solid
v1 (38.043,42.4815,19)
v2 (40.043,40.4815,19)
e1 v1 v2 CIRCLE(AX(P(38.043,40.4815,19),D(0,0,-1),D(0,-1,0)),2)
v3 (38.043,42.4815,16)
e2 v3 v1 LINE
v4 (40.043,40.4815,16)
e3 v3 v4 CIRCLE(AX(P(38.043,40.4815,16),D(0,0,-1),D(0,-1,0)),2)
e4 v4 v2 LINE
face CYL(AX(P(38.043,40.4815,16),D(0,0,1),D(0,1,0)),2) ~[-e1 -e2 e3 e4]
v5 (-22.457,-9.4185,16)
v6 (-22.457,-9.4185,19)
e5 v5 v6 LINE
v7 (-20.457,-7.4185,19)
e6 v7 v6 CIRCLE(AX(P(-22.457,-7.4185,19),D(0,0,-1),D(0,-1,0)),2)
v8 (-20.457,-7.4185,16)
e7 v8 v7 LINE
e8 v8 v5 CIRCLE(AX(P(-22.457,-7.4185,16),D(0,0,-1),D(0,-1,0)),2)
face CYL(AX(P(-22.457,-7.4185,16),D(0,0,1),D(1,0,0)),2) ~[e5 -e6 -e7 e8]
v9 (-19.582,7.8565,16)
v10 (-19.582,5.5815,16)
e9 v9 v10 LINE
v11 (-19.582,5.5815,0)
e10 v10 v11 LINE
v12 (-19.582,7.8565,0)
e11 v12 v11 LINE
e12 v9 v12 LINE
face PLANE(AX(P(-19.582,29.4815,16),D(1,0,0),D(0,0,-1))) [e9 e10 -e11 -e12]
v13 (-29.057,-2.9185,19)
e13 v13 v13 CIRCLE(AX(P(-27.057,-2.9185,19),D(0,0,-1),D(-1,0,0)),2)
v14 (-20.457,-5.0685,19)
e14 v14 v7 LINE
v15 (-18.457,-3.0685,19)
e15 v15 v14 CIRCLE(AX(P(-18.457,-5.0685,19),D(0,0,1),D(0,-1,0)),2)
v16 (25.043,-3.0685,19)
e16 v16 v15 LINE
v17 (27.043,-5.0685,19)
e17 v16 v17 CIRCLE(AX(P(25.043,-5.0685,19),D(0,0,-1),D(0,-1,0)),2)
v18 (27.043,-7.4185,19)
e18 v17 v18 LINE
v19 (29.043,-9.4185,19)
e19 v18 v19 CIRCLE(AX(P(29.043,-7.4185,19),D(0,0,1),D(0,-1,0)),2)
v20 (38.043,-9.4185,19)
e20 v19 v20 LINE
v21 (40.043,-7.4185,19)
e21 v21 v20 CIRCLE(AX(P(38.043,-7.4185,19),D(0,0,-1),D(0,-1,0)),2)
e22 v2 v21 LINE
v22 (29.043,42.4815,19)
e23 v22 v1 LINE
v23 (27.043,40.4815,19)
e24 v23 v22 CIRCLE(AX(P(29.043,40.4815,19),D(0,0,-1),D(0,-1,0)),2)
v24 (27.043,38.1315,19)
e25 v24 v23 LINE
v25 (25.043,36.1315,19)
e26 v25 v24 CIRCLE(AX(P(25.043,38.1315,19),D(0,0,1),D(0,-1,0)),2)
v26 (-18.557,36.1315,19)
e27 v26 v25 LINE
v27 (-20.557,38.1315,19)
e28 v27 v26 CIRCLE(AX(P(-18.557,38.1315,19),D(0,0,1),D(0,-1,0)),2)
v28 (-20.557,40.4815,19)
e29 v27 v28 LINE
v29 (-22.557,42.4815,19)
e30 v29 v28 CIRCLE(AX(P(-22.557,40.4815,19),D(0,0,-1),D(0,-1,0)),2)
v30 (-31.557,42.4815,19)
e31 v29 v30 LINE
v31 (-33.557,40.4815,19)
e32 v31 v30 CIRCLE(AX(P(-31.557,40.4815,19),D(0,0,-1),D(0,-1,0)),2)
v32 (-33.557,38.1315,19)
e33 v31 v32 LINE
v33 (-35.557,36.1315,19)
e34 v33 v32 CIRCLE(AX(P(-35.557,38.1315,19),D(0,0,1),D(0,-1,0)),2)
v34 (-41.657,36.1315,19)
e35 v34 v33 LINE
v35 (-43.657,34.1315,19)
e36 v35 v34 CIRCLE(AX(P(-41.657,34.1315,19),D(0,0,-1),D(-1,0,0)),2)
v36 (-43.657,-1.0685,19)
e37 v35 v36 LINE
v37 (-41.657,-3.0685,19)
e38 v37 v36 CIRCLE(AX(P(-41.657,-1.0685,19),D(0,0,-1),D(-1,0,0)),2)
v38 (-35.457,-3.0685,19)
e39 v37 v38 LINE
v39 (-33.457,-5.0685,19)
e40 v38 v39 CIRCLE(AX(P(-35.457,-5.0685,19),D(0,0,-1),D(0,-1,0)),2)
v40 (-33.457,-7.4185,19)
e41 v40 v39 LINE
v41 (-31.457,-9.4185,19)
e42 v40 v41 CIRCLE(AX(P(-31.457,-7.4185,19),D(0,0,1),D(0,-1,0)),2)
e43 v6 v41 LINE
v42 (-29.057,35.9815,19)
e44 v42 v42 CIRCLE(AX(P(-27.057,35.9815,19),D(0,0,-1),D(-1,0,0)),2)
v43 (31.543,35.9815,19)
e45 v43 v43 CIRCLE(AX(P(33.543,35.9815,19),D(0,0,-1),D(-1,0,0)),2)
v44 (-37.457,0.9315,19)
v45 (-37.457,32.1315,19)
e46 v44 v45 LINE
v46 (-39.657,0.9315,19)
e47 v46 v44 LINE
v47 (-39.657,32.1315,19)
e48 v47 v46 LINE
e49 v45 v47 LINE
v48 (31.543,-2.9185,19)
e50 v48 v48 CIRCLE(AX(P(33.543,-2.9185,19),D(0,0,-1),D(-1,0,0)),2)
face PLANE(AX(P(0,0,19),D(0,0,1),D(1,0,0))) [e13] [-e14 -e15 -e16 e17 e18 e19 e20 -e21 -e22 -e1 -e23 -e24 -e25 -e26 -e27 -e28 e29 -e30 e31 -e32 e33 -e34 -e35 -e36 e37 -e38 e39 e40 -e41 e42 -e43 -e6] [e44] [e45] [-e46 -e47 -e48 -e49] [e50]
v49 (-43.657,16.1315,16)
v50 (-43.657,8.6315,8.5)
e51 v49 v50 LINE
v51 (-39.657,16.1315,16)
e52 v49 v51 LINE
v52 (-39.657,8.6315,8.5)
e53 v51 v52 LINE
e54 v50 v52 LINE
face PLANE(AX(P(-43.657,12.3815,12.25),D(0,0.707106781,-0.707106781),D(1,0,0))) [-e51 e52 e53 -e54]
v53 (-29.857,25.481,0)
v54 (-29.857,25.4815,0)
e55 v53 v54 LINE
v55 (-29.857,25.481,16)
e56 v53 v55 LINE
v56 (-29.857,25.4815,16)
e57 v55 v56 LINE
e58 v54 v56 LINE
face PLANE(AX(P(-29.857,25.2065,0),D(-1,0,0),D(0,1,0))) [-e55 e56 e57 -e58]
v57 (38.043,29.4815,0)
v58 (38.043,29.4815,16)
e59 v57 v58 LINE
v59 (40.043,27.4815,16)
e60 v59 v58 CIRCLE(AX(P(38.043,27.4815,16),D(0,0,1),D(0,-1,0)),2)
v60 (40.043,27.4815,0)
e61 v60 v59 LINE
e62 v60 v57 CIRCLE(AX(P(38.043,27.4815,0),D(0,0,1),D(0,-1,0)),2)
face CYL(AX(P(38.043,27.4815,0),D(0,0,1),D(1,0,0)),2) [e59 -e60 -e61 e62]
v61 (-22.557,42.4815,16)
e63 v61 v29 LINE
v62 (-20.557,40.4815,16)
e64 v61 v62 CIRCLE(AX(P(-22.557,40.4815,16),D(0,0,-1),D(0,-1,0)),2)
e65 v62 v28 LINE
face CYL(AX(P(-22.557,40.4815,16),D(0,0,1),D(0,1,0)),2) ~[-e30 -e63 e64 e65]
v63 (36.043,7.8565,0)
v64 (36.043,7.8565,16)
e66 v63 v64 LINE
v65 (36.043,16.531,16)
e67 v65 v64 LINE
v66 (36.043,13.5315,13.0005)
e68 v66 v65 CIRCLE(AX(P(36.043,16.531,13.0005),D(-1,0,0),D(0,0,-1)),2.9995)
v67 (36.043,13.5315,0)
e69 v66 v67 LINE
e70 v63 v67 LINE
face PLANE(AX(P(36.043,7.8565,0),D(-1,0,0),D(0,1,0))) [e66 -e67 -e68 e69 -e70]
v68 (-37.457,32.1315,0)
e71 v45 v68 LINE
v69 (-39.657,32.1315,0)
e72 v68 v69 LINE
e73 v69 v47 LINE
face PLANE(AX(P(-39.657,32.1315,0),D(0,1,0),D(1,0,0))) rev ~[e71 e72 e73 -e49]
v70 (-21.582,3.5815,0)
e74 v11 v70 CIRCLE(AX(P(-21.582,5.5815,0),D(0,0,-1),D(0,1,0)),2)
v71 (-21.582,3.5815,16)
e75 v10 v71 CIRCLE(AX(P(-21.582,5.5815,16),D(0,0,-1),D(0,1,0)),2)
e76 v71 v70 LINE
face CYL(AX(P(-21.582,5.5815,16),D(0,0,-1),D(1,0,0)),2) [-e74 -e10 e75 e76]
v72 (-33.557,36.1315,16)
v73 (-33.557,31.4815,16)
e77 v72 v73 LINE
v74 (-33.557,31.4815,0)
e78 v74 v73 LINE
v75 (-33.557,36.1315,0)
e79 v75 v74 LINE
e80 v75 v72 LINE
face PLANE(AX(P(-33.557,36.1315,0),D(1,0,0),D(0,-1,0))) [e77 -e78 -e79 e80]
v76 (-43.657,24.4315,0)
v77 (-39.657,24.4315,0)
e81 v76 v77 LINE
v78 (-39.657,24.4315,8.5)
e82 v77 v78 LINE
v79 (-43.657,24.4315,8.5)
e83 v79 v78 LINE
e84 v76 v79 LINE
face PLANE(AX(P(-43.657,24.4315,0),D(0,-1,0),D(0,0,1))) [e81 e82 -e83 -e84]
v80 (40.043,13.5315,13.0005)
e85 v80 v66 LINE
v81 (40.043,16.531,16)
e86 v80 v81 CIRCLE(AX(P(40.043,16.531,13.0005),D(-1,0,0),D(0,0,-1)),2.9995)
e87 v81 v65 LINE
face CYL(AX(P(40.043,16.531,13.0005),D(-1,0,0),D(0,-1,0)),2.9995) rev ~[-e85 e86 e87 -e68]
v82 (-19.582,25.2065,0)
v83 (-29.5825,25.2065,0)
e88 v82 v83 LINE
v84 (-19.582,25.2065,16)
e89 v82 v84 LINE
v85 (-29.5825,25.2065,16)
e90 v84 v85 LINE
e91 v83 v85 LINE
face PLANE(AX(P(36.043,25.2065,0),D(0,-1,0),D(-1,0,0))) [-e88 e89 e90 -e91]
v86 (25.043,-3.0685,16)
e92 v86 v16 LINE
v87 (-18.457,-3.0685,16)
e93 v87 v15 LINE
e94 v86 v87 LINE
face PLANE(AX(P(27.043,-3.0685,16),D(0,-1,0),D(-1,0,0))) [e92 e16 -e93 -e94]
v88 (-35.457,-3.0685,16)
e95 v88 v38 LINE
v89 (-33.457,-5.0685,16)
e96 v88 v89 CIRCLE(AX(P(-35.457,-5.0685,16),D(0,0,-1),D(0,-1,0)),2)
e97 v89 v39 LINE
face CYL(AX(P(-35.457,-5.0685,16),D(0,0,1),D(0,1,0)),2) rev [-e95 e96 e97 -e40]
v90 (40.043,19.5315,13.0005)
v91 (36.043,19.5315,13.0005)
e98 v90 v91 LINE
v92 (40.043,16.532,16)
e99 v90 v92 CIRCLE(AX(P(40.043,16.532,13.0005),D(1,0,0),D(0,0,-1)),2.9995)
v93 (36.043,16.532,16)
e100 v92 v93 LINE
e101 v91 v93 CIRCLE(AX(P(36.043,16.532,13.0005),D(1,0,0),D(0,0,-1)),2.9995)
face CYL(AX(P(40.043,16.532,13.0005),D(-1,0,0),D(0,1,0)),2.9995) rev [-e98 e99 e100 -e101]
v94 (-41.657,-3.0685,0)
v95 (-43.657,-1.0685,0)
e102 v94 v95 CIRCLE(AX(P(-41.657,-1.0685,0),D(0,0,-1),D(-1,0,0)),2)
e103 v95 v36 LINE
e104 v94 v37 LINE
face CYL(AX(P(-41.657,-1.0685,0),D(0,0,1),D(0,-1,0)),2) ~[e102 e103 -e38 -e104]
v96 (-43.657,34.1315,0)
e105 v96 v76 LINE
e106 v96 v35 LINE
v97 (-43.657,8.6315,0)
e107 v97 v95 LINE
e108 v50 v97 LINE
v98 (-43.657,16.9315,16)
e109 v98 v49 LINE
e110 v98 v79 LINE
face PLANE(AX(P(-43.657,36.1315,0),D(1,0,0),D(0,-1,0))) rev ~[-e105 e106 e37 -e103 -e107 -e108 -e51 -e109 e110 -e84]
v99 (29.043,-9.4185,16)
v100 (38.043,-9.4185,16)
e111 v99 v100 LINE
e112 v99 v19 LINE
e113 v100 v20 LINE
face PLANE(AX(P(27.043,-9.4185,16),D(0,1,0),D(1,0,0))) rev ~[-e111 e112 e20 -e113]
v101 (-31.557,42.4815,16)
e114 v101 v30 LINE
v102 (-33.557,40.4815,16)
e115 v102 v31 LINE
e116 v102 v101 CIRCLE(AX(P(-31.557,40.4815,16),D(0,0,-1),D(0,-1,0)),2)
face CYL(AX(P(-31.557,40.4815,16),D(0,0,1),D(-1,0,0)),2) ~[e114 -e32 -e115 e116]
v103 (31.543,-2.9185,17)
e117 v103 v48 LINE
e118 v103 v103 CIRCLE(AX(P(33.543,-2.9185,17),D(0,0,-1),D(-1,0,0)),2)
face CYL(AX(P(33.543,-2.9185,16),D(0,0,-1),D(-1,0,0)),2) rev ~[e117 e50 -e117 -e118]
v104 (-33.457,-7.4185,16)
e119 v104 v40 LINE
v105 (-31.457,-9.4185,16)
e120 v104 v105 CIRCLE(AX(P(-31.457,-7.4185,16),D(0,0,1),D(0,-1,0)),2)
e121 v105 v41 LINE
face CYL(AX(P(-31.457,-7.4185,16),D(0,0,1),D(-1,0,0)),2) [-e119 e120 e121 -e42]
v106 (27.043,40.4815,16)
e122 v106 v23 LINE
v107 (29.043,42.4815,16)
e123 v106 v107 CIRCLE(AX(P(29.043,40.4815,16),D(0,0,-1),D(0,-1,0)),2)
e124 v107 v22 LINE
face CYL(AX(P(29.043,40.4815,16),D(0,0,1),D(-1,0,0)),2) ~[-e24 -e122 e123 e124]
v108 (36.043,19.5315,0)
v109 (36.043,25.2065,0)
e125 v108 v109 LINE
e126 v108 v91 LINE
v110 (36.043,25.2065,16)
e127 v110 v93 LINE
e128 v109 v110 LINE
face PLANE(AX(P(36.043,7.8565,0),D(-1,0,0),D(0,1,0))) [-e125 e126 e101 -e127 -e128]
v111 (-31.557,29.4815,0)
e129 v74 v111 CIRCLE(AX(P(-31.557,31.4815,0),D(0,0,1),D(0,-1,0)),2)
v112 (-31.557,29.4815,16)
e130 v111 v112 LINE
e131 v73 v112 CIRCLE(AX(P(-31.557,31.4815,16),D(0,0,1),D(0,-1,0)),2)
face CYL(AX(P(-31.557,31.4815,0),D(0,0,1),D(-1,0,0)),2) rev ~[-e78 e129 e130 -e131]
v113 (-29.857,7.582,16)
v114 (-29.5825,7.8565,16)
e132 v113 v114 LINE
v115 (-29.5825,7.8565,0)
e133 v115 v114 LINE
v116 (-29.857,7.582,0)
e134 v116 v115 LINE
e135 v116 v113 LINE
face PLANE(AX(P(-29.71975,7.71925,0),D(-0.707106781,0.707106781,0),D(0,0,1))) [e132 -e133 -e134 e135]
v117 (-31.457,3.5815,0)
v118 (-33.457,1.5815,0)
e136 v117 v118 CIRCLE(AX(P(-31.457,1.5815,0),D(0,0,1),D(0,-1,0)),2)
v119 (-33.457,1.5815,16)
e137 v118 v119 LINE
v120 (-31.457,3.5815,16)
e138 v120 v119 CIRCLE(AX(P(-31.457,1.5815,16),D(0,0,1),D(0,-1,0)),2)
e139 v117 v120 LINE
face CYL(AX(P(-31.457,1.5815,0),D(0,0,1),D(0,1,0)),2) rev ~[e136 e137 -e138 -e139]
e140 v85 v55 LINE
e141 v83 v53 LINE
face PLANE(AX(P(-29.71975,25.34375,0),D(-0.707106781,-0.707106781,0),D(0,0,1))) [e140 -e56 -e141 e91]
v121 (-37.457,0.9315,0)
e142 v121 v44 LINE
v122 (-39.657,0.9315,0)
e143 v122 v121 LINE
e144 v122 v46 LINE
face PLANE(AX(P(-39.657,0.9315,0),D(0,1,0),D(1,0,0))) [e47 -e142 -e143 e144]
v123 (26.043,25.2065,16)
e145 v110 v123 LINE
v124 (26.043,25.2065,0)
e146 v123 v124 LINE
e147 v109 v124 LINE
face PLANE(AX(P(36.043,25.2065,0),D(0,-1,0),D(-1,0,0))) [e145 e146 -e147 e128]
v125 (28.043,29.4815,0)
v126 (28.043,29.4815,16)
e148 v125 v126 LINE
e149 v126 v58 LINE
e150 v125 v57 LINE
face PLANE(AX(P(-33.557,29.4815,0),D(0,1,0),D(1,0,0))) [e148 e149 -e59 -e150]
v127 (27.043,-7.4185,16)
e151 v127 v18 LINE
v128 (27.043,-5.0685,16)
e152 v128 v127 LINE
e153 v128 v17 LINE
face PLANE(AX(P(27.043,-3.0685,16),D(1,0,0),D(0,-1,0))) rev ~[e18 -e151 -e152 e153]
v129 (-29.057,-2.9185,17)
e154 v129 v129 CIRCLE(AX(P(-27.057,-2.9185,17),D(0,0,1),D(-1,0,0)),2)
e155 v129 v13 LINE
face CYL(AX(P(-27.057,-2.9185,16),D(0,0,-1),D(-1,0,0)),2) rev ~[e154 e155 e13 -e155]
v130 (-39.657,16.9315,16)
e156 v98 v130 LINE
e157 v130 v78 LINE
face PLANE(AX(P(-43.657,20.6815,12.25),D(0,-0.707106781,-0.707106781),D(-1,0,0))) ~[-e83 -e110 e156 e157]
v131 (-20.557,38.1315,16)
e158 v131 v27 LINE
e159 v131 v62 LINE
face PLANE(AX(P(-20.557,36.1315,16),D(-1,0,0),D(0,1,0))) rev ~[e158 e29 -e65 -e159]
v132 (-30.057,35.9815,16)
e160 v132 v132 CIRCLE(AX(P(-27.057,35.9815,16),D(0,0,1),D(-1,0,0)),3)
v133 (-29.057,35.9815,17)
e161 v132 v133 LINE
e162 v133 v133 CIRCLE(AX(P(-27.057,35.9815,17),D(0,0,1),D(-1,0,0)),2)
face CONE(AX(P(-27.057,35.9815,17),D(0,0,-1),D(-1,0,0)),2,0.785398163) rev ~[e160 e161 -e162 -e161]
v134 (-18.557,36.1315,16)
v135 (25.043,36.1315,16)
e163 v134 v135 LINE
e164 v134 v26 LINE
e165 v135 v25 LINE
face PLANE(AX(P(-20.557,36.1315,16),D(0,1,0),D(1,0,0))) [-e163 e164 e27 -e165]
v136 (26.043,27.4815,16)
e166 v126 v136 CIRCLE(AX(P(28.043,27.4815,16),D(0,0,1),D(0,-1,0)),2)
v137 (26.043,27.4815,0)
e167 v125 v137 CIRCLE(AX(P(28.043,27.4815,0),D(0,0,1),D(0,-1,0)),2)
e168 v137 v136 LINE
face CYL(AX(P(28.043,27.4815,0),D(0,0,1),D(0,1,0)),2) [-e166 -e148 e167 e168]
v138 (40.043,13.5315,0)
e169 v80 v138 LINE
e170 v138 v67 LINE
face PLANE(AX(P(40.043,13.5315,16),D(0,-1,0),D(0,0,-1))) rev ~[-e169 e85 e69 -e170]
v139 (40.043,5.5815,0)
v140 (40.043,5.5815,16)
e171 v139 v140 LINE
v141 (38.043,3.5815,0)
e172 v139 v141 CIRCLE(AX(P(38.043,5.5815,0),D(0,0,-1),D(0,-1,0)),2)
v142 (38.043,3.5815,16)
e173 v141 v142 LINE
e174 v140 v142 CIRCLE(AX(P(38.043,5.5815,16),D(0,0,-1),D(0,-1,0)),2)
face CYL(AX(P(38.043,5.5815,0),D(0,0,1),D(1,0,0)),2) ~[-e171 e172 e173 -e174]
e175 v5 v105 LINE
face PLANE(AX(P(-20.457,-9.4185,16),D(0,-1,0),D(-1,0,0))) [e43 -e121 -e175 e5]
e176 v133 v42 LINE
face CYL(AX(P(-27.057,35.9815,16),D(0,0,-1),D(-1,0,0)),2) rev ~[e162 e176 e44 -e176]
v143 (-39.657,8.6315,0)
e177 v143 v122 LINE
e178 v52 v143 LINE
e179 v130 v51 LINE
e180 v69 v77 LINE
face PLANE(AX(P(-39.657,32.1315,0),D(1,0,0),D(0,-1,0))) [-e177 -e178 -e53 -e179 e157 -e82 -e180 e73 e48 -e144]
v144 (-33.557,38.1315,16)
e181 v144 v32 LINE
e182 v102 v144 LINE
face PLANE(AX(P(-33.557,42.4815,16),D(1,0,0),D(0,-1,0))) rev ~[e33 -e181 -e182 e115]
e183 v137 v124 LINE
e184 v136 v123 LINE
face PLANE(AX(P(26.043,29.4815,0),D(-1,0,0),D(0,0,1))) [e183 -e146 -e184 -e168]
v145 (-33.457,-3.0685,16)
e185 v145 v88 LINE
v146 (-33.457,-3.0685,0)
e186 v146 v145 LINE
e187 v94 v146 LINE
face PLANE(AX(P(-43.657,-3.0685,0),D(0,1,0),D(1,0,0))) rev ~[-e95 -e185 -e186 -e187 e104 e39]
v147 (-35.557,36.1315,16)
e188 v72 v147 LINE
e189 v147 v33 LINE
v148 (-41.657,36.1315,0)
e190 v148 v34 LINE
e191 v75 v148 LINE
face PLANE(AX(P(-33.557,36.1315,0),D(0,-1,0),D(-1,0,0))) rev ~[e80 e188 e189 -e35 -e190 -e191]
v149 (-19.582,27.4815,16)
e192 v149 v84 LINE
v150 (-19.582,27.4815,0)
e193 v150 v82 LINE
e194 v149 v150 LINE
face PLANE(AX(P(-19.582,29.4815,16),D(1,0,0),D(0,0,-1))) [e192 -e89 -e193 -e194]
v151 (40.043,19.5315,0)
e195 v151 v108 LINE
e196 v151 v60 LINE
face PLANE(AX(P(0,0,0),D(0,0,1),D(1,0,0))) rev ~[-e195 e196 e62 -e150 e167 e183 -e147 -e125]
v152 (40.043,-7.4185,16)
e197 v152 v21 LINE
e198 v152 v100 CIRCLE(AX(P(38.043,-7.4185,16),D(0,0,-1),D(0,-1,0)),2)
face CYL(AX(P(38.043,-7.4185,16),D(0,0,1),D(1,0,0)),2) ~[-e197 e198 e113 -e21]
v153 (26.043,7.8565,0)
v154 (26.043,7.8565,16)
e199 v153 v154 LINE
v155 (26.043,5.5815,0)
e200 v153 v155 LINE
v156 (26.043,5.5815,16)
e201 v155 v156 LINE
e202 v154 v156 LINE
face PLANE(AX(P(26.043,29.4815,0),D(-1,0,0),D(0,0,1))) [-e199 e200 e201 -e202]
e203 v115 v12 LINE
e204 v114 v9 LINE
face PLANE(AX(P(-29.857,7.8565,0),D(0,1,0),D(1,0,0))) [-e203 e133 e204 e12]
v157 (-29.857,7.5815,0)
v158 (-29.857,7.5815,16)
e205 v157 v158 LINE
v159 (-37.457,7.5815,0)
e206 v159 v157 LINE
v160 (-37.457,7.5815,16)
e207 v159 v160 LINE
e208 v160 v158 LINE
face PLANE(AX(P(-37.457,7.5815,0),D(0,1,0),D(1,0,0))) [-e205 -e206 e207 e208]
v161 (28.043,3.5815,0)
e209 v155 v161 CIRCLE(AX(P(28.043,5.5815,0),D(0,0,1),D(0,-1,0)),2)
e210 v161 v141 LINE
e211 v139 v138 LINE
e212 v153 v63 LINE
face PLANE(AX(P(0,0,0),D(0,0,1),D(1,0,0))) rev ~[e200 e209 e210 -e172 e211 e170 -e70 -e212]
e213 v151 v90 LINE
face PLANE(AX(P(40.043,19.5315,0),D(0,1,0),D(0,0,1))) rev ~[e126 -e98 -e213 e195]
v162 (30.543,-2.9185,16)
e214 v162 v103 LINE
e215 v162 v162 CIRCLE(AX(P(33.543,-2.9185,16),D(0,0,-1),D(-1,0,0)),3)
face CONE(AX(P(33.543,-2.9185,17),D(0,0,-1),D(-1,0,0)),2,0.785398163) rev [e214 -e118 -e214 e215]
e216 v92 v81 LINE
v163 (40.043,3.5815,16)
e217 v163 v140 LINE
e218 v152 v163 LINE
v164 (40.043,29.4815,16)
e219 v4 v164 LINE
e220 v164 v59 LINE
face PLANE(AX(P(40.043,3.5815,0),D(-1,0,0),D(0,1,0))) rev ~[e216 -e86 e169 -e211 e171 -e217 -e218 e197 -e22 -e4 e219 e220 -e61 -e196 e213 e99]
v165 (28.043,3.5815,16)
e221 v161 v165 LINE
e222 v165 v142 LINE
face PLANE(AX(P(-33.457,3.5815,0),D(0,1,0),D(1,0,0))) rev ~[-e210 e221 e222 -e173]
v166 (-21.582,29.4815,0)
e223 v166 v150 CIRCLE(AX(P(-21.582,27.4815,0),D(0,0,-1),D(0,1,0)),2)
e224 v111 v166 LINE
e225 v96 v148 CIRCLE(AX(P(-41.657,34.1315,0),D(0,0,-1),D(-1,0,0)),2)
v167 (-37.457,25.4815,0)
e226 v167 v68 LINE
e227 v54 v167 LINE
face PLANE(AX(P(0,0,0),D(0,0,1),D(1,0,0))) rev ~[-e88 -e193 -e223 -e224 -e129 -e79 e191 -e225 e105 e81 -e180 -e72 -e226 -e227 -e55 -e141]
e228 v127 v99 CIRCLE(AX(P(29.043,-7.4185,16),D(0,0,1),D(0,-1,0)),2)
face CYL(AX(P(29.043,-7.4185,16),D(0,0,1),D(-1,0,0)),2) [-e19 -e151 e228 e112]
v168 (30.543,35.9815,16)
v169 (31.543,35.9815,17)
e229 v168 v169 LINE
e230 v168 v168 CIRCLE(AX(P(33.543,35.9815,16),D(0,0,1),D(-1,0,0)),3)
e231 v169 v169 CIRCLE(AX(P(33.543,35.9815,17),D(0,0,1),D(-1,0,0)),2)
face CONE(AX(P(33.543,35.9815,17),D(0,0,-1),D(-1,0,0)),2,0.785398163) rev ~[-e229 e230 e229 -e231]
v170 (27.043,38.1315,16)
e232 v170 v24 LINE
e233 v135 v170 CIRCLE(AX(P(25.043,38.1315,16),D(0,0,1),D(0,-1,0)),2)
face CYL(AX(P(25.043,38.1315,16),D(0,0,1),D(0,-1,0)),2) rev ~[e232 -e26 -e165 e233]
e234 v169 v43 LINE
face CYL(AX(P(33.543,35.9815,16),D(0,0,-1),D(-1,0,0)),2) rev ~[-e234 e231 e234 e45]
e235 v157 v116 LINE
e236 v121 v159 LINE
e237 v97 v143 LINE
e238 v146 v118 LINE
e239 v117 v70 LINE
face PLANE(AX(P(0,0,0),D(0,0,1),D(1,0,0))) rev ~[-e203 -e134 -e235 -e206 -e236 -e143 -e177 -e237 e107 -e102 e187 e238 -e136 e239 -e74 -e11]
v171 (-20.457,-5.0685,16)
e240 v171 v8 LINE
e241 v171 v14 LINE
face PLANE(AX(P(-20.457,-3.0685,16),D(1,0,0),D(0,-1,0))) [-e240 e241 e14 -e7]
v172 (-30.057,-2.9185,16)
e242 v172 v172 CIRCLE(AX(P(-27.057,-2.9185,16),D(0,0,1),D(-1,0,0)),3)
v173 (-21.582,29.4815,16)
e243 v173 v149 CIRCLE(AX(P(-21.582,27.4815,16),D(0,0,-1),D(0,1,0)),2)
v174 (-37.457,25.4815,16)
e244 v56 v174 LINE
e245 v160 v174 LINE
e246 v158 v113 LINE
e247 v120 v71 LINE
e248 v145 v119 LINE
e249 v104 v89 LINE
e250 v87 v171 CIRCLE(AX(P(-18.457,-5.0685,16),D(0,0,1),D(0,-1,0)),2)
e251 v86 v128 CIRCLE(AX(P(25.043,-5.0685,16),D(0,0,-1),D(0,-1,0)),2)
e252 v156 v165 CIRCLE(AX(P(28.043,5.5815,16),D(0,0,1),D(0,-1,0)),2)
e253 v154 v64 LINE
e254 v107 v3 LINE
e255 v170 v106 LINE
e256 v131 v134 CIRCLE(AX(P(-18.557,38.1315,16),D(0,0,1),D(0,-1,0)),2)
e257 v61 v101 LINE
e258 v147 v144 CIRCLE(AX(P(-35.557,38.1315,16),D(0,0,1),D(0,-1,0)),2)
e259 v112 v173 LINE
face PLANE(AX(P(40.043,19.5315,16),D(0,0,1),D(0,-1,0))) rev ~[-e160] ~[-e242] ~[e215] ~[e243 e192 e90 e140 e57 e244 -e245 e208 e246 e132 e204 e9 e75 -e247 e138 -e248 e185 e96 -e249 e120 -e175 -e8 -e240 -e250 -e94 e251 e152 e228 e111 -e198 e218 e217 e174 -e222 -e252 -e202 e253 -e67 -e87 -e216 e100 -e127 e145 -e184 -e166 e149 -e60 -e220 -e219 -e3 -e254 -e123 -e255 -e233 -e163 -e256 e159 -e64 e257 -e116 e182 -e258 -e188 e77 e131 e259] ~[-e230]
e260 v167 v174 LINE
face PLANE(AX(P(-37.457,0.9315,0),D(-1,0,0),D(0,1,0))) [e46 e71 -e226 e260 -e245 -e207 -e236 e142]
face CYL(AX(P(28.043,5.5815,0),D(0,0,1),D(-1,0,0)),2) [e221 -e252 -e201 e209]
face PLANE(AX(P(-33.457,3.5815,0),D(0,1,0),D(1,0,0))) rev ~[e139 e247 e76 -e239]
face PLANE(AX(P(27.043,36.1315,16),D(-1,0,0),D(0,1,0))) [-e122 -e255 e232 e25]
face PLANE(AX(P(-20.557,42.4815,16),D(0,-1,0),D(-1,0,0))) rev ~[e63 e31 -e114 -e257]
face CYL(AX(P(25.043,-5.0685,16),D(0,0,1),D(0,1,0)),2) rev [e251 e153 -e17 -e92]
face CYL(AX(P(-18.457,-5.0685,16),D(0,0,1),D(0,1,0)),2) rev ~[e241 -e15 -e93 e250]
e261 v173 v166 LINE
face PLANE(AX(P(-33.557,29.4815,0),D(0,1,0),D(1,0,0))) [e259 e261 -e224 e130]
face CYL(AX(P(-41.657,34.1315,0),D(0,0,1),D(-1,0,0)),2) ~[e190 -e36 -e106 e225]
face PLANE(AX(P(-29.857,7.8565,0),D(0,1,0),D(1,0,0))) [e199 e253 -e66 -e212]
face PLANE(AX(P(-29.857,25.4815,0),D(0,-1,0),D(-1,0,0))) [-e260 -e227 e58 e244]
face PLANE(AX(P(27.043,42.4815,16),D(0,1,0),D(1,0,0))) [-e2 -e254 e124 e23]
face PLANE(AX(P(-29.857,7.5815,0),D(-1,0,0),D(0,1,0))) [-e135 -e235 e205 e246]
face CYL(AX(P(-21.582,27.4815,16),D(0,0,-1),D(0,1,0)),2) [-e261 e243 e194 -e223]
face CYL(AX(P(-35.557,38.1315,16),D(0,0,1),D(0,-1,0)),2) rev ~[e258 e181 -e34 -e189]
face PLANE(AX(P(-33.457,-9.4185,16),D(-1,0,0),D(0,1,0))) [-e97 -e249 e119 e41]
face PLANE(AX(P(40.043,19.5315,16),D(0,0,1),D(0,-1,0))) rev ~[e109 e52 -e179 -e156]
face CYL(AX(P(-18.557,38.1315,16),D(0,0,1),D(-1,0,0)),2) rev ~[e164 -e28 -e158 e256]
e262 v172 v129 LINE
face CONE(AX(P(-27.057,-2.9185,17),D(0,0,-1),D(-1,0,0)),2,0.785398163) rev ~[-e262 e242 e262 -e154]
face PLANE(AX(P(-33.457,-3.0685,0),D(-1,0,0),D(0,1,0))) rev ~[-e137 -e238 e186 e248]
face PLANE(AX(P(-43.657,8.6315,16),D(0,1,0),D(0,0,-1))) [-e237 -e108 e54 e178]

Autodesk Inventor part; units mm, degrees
ref_plane "YZ Plane" through (0, 0, 0) normal (1, 0, 0) x (0, 1, 0)
ref_plane "XZ Plane" through (0, 0, 0) normal (0, 1, 0) x (-1, 0, 0)
ref_plane "XY Plane" through (0, 0, 0) normal (0, 0, 1) x (1, 0, 0)
sketch "Sketch1" plane through (0, 0, 0) normal (0, 0, 1) x (1, 0, 0)
  line L0 (-33.557, 36.1315) -> (-43.657, 36.1315)
  line L1 (-43.657, 36.1315) -> (-43.657, -3.0685)
  line L2 (-43.657, -3.0685) -> (-33.457, -3.0685)
  line L3 (40.043, 3.5815) -> (40.043, 29.4815)
  line L4 (35.943, 25.1065) -> (35.943, 7.9565) construction
  line L5 (35.943, 7.9565) -> (-29.957, 7.9565) construction
  line L6 (35.943, 25.1065) -> (-29.957, 25.1065) construction
  line L7 (-37.557, 25.3815) -> (-29.957, 25.3815) construction
  line L8 (-29.957, 7.6815) -> (-29.957, 25.3815) construction
  line L9 (-37.557, 7.6815) -> (-29.957, 7.6815) construction
  line L10 (-37.557, 1.0315) -> (-37.557, 6.1295) construction
  line L11 (-39.557, 1.0315) -> (-37.557, 1.0315) construction
  line L12 (-39.557, 6.1295) -> (-39.557, 1.0315) construction
  line L13 (-39.557, 13.2232) -> (-39.557, 6.1295) construction
  line L14 (-39.557, 19.8398) -> (-39.557, 13.2232) construction
  line L15 (-39.557, 26.9336) -> (-39.557, 19.8398) construction
  line L16 (-39.557, 32.0315) -> (-39.557, 26.9336) construction
  line L17 (-39.557, 32.0315) -> (-37.557, 32.0315) construction
  line L18 (-37.557, 26.9336) -> (-37.557, 32.0315) construction
  line L19 (-37.557, 19.8398) -> (-37.557, 26.9336) construction
  line L20 (-37.557, 6.1295) -> (-37.557, 13.2232) construction
  line L21 (-33.557, 36.1315) -> (-33.557, 29.4815) construction
  line L22 (-33.557, 29.4815) -> (40.043, 29.4815) construction
  line L23 (35.943, 25.1065) -> (-29.957, 25.1065) construction
  line L24 (-29.957, 25.3815) -> (-29.957, 25.1065) construction
  line L25 (-29.957, 25.3815) -> (-37.557, 25.3815) construction
  line L26 (-37.557, 25.3815) -> (-37.557, 32.0315) construction
  line L27 (-37.557, 32.0315) -> (-39.557, 32.0315) construction
  line L28 (-39.557, 32.0315) -> (-39.557, 1.0315) construction
  line L29 (-39.557, 1.0315) -> (-37.557, 1.0315) construction
  line L30 (-37.557, 1.0315) -> (-37.557, 7.6815) construction
  line L31 (-37.557, 7.6815) -> (-29.957, 7.6815) construction
  line L32 (-29.957, 7.6815) -> (-29.957, 7.9565) construction
  line L33 (-29.957, 7.9565) -> (35.943, 7.9565) construction
  line L34 (35.943, 7.9565) -> (35.943, 25.1065) construction
  line L35 (-29.857, 7.8565) -> (36.043, 7.8565)
  line L36 (36.043, 7.8565) -> (36.043, 25.2065)
  line L37 (36.043, 25.2065) -> (-29.857, 25.2065)
  line L38 (-29.857, 25.2065) -> (-29.857, 25.4815)
  line L39 (-29.857, 25.4815) -> (-37.457, 25.4815)
  line L40 (-37.457, 25.4815) -> (-37.457, 32.1315)
  line L41 (-37.457, 32.1315) -> (-39.657, 32.1315)
  line L42 (-39.657, 32.1315) -> (-39.657, 0.9315)
  line L43 (-39.657, 0.9315) -> (-37.457, 0.9315)
  line L44 (-37.457, 0.9315) -> (-37.457, 7.5815)
  line L45 (-37.457, 7.5815) -> (-29.857, 7.5815)
  line L46 (-29.857, 7.5815) -> (-29.857, 7.8565)
  line L47 (-33.557, 36.1315) -> (-33.557, 29.4815)
  line L48 (-33.557, 29.4815) -> (40.043, 29.4815)
  line L49 (-33.457, -3.0685) -> (-33.457, 3.5815)
  line L50 (-33.457, 3.5815) -> (40.043, 3.5815)
  line L51 (-33.457, 36.1315) -> (-33.557, 36.1315)
  line L52 (-33.457, 36.1315) -> (-33.557, 36.1315)
  point P0 (0, 0)
  dimension "d6" = 0.1
  dimension "d7" = 4
  dimension "d8" = 4
  dimension "d9" = 4
  dimension "d10" = 4
  dimension "d11" = 4
  dimension "d12" = 4
  dimension "d13" = 4
  dimension "d14" = 4
extrude "Extrusion1" add sketch "Sketch1" along normal blind 16
sketch "Sketch2" plane through (0, 0, 16) normal (0, 0, 1) x (1, 0, 0)
  line L0 (-43.657, 36.1315) -> (-43.657, -3.0685) projected
  line L1 (-43.657, -3.0685) -> (-43.657, 36.1315)
  line L2 (40.043, 36.1315) -> (40.043, -3.0685)
  line L3 (-43.657, -3.0685) -> (-33.457, -3.0685) projected
  line L4 (40.043, 3.5815) -> (40.043, 29.4815) projected
  line L5 (40.043, 29.4815) -> (27.043, 29.4815) construction
  line L6 (27.043, 36.1315) -> (27.043, 42.4815)
  line L7 (27.043, 42.4815) -> (40.043, 42.4815)
  line L8 (40.043, 42.4815) -> (40.043, 29.4815)
  line L9 (-33.557, 29.4815) -> (-33.557, 36.1315) construction
  line L10 (-33.557, 29.4815) -> (-20.557, 29.4815) construction
  line L11 (-20.557, 36.1315) -> (-20.557, 42.4815)
  line L12 (-20.557, 42.4815) -> (-33.557, 42.4815)
  line L13 (-33.557, 42.4815) -> (-33.557, 36.1315)
  line L14 (-33.457, 3.5815) -> (40.043, 3.5815) construction
  line L15 (-20.557, 3.5815) -> (-20.457, 3.5815)
  line L16 (-20.457, -3.0685) -> (-20.457, -9.4185)
  line L17 (-20.457, -9.4185) -> (-33.457, -9.4185)
  line L18 (-33.457, -9.4185) -> (-33.457, -3.0685)
  line L19 (40.043, 3.5815) -> (27.043, 3.5815) construction
  line L20 (27.043, -3.0685) -> (27.043, -9.4185)
  line L21 (27.043, -9.4185) -> (40.043, -9.4185)
  line L22 (40.043, -9.4185) -> (40.043, 3.5815)
  line L23 (27.043, -3.0685) -> (-20.457, -3.0685)
  line L24 (-33.457, -3.0685) -> (-43.657, -3.0685)
  line L25 (-43.657, 36.1315) -> (-33.557, 36.1315)
  line L26 (-20.557, 36.1315) -> (27.043, 36.1315)
  point P0 (0, 0)
  point P1 (-38.557, -3.0685)
  point P2 (40.043, 16.5315)
  dimension "d60" = 13
  dimension "d61" = 13
  dimension "d62" = 13
  dimension "d63" = 13
  dimension "d64" = 13
  dimension "d65" = 13
  dimension "d66" = 13
  dimension "d67" = 13
extrude "Extrusion2" add sketch "Sketch2" along normal blind 3
sketch "Sketch3" plane through (40.043, 3.5815, 0) normal (1, 0, 0) x (0, 0, -1)
  line L0 (0, 15.95) -> (-16, 15.95)
  line L1 (-16, 15.95) -> (-16, 9.95)
  line L2 (-16, 9.95) -> (0, 9.95)
  line L3 (0, 9.95) -> (0, 15.95)
  line L4 (0, 0) -> (0, 25.9) construction
  line L5 (0, 25.9) -> (-16, 25.9) construction
  line L6 (0, 0) -> (-16, 0) construction
  line L7 (-16, 21.625) -> (-16, 4.275) construction
  point P0 (0, -3.5815)
  point P1 (0, 12.95)
  dimension "d19" = 6
  dimension "d21" = 0
extrude "Extrusion3" cut sketch "Sketch3" against normal blind 4
fillet "Fillet1" radius 3 2 edges at (38.043, 19.5315, 16) (38.043, 13.5315, 16)
sketch "Sketch4" plane through (-43.657, -3.0685, 0) normal (-1, 0, 0) x (0, 0, 1)
  line L0 (0, 27.5) -> (16, 27.5)
  line L1 (16, 27.5) -> (16, 11.7)
  line L2 (16, 11.7) -> (0, 11.7)
  line L3 (0, 11.7) -> (0, 27.5)
  line L4 (0, 39.2) -> (0, 0) construction
  line L5 (0, 39.2) -> (19, 39.2) construction
  line L6 (0, 0) -> (19, 0) construction
  line L7 (19, 39.2) -> (19, 0) construction
  point P0 (0, 3.0685)
  point P1 (0, 19.6)
  dimension "d25" = 15.8
  dimension "d28" = 11.7
  dimension "d29" = 11.7
  dimension "d30" = 3
extrude "Extrusion4" cut sketch "Sketch4" against normal blind 4
chamfer "Chamfer1" distance 7.5 angle 45 2 edges at (-41.657, 8.6315, 16) (-41.657, 24.4315, 16)
sketch "Sketch5" plane through (0, 0, 16) normal (0, 0, -1) x (-1, 0, 0)
  circle A0 centre (-33.543, 35.9815) radius 2
  circle A1 centre (27.057, 35.9815) radius 2
  circle A2 centre (27.057, -2.9185) radius 2
  circle A3 centre (-33.543, -2.9185) radius 2
  line L0 (-40.043, 29.4815) -> (-40.043, 3.5815) projected
  line L1 (-40.043, 36.1315) -> (33.557, 36.1315) projected
  line L2 (-40.043, 29.4815) -> (33.557, 29.4815) projected
  line L3 (-40.043, -9.4185) -> (-40.043, 3.5815) projected
  line L4 (33.457, -3.0685) -> (-27.043, -3.0685) projected
  line L5 (33.457, -3.0685) -> (33.457, 3.5815) projected
  line L6 (20.557, 42.4815) -> (33.557, 42.4815) projected
  line L7 (33.457, -9.4185) -> (20.457, -9.4185) projected
  line L8 (-27.043, -9.4185) -> (-40.043, -9.4185) projected
  point P0 (0, 0)
  point P1 (-40.043, -3.0685)
  point P2 (27.057, 42.4815)
  point P3 (-33.543, -9.4185)
  dimension "d39" = 4
  dimension "d68" = 6.5
  dimension "d69" = 6.5
extrude "Extrusion5" cut sketch "Sketch5" against normal blind 4
chamfer "Chamfer2" distance 1 angle 45 4 edges at (35.543, 35.9815, 16) (35.543, -2.9185, 16) (-25.057, 35.9815, 16) (-25.057, -2.9185, 16)
chamfer "Chamfer3" distance 0.275 angle 45 2 edges at (-29.857, 25.2065, 8) (-29.857, 7.8565, 8)
sketch "Sketch6" plane through (0, 0, 0) normal (0, 0, -1) x (-1, 0, 0)
  line L0 (37.457, 0.9315) -> (39.657, 0.9315) projected
  line L1 (39.657, 32.1315) -> (37.457, 32.1315)
  line L2 (37.457, 32.1315) -> (37.457, 0.9315)
  line L3 (37.457, 0.9315) -> (39.657, 0.9315)
  line L4 (39.657, 0.9315) -> (39.657, 32.1315)
  point P0 (0, 0)
extrude "Extrusion6" cut sketch "Sketch6" against normal through all
sketch "Sketch7" plane through (-33.557, 29.4815, 0) normal (0, 1, 0) x (1, 0, 0)
  line L0 (3.7, 0) -> (3.7, -16) construction
  line L1 (3.975, -16) -> (3.975, 0) construction
  line L2 (69.6, 0) -> (69.6, -16) construction
  line L3 (13.975, 0) -> (59.6, 0)
  line L4 (59.6, 0) -> (59.6, -16)
  line L5 (59.6, -16) -> (13.975, -16)
  line L6 (13.975, -16) -> (13.975, 0)
  line L7 (73.6, -16) -> (0, -16) construction
  point P0 (33.557, 0)
  point P1 (36.7875, -16)
  point P2 (36.8, -16)
  dimension "d56" = 10
  dimension "d57" = 10
extrude "Extrusion7" cut sketch "Sketch7" against normal through all
fillet "Fillet2" radius 2 24 edges at (-33.557, 42.4815, 17.5) (-20.557, 42.4815, 17.5) (27.043, 42.4815, 17.5) (40.043, 42.4815, 17.5) (27.043, -9.4185, 17.5) (40.043, -9.4185, 17.5) (-20.457, -9.4185, 17.5) (-33.457, -9.4185, 17.5) (-43.657, -3.0685, 9.5) (-43.657, 36.1315, 9.5) (-19.582, 29.4815, 8) (-19.582, 3.5815, 8) (40.043, 29.4815, 8) (40.043, 3.5815, 8) (26.043, 3.5815, 8) (26.043, 29.4815, 8) (27.043, 36.1315, 17.5) (-20.557, 36.1315, 17.5) (-33.557, 36.1315, 17.5) (-33.557, 29.4815, 8) (-33.457, 3.5815, 8) (-20.457, -3.0685, 17.5) (27.043, -3.0685, 17.5) (-33.457, -3.0685, 17.5)
equation "\"d28\" = d29"
equation "\"d69\" = d68"
properties part number "SyringeCasing"
